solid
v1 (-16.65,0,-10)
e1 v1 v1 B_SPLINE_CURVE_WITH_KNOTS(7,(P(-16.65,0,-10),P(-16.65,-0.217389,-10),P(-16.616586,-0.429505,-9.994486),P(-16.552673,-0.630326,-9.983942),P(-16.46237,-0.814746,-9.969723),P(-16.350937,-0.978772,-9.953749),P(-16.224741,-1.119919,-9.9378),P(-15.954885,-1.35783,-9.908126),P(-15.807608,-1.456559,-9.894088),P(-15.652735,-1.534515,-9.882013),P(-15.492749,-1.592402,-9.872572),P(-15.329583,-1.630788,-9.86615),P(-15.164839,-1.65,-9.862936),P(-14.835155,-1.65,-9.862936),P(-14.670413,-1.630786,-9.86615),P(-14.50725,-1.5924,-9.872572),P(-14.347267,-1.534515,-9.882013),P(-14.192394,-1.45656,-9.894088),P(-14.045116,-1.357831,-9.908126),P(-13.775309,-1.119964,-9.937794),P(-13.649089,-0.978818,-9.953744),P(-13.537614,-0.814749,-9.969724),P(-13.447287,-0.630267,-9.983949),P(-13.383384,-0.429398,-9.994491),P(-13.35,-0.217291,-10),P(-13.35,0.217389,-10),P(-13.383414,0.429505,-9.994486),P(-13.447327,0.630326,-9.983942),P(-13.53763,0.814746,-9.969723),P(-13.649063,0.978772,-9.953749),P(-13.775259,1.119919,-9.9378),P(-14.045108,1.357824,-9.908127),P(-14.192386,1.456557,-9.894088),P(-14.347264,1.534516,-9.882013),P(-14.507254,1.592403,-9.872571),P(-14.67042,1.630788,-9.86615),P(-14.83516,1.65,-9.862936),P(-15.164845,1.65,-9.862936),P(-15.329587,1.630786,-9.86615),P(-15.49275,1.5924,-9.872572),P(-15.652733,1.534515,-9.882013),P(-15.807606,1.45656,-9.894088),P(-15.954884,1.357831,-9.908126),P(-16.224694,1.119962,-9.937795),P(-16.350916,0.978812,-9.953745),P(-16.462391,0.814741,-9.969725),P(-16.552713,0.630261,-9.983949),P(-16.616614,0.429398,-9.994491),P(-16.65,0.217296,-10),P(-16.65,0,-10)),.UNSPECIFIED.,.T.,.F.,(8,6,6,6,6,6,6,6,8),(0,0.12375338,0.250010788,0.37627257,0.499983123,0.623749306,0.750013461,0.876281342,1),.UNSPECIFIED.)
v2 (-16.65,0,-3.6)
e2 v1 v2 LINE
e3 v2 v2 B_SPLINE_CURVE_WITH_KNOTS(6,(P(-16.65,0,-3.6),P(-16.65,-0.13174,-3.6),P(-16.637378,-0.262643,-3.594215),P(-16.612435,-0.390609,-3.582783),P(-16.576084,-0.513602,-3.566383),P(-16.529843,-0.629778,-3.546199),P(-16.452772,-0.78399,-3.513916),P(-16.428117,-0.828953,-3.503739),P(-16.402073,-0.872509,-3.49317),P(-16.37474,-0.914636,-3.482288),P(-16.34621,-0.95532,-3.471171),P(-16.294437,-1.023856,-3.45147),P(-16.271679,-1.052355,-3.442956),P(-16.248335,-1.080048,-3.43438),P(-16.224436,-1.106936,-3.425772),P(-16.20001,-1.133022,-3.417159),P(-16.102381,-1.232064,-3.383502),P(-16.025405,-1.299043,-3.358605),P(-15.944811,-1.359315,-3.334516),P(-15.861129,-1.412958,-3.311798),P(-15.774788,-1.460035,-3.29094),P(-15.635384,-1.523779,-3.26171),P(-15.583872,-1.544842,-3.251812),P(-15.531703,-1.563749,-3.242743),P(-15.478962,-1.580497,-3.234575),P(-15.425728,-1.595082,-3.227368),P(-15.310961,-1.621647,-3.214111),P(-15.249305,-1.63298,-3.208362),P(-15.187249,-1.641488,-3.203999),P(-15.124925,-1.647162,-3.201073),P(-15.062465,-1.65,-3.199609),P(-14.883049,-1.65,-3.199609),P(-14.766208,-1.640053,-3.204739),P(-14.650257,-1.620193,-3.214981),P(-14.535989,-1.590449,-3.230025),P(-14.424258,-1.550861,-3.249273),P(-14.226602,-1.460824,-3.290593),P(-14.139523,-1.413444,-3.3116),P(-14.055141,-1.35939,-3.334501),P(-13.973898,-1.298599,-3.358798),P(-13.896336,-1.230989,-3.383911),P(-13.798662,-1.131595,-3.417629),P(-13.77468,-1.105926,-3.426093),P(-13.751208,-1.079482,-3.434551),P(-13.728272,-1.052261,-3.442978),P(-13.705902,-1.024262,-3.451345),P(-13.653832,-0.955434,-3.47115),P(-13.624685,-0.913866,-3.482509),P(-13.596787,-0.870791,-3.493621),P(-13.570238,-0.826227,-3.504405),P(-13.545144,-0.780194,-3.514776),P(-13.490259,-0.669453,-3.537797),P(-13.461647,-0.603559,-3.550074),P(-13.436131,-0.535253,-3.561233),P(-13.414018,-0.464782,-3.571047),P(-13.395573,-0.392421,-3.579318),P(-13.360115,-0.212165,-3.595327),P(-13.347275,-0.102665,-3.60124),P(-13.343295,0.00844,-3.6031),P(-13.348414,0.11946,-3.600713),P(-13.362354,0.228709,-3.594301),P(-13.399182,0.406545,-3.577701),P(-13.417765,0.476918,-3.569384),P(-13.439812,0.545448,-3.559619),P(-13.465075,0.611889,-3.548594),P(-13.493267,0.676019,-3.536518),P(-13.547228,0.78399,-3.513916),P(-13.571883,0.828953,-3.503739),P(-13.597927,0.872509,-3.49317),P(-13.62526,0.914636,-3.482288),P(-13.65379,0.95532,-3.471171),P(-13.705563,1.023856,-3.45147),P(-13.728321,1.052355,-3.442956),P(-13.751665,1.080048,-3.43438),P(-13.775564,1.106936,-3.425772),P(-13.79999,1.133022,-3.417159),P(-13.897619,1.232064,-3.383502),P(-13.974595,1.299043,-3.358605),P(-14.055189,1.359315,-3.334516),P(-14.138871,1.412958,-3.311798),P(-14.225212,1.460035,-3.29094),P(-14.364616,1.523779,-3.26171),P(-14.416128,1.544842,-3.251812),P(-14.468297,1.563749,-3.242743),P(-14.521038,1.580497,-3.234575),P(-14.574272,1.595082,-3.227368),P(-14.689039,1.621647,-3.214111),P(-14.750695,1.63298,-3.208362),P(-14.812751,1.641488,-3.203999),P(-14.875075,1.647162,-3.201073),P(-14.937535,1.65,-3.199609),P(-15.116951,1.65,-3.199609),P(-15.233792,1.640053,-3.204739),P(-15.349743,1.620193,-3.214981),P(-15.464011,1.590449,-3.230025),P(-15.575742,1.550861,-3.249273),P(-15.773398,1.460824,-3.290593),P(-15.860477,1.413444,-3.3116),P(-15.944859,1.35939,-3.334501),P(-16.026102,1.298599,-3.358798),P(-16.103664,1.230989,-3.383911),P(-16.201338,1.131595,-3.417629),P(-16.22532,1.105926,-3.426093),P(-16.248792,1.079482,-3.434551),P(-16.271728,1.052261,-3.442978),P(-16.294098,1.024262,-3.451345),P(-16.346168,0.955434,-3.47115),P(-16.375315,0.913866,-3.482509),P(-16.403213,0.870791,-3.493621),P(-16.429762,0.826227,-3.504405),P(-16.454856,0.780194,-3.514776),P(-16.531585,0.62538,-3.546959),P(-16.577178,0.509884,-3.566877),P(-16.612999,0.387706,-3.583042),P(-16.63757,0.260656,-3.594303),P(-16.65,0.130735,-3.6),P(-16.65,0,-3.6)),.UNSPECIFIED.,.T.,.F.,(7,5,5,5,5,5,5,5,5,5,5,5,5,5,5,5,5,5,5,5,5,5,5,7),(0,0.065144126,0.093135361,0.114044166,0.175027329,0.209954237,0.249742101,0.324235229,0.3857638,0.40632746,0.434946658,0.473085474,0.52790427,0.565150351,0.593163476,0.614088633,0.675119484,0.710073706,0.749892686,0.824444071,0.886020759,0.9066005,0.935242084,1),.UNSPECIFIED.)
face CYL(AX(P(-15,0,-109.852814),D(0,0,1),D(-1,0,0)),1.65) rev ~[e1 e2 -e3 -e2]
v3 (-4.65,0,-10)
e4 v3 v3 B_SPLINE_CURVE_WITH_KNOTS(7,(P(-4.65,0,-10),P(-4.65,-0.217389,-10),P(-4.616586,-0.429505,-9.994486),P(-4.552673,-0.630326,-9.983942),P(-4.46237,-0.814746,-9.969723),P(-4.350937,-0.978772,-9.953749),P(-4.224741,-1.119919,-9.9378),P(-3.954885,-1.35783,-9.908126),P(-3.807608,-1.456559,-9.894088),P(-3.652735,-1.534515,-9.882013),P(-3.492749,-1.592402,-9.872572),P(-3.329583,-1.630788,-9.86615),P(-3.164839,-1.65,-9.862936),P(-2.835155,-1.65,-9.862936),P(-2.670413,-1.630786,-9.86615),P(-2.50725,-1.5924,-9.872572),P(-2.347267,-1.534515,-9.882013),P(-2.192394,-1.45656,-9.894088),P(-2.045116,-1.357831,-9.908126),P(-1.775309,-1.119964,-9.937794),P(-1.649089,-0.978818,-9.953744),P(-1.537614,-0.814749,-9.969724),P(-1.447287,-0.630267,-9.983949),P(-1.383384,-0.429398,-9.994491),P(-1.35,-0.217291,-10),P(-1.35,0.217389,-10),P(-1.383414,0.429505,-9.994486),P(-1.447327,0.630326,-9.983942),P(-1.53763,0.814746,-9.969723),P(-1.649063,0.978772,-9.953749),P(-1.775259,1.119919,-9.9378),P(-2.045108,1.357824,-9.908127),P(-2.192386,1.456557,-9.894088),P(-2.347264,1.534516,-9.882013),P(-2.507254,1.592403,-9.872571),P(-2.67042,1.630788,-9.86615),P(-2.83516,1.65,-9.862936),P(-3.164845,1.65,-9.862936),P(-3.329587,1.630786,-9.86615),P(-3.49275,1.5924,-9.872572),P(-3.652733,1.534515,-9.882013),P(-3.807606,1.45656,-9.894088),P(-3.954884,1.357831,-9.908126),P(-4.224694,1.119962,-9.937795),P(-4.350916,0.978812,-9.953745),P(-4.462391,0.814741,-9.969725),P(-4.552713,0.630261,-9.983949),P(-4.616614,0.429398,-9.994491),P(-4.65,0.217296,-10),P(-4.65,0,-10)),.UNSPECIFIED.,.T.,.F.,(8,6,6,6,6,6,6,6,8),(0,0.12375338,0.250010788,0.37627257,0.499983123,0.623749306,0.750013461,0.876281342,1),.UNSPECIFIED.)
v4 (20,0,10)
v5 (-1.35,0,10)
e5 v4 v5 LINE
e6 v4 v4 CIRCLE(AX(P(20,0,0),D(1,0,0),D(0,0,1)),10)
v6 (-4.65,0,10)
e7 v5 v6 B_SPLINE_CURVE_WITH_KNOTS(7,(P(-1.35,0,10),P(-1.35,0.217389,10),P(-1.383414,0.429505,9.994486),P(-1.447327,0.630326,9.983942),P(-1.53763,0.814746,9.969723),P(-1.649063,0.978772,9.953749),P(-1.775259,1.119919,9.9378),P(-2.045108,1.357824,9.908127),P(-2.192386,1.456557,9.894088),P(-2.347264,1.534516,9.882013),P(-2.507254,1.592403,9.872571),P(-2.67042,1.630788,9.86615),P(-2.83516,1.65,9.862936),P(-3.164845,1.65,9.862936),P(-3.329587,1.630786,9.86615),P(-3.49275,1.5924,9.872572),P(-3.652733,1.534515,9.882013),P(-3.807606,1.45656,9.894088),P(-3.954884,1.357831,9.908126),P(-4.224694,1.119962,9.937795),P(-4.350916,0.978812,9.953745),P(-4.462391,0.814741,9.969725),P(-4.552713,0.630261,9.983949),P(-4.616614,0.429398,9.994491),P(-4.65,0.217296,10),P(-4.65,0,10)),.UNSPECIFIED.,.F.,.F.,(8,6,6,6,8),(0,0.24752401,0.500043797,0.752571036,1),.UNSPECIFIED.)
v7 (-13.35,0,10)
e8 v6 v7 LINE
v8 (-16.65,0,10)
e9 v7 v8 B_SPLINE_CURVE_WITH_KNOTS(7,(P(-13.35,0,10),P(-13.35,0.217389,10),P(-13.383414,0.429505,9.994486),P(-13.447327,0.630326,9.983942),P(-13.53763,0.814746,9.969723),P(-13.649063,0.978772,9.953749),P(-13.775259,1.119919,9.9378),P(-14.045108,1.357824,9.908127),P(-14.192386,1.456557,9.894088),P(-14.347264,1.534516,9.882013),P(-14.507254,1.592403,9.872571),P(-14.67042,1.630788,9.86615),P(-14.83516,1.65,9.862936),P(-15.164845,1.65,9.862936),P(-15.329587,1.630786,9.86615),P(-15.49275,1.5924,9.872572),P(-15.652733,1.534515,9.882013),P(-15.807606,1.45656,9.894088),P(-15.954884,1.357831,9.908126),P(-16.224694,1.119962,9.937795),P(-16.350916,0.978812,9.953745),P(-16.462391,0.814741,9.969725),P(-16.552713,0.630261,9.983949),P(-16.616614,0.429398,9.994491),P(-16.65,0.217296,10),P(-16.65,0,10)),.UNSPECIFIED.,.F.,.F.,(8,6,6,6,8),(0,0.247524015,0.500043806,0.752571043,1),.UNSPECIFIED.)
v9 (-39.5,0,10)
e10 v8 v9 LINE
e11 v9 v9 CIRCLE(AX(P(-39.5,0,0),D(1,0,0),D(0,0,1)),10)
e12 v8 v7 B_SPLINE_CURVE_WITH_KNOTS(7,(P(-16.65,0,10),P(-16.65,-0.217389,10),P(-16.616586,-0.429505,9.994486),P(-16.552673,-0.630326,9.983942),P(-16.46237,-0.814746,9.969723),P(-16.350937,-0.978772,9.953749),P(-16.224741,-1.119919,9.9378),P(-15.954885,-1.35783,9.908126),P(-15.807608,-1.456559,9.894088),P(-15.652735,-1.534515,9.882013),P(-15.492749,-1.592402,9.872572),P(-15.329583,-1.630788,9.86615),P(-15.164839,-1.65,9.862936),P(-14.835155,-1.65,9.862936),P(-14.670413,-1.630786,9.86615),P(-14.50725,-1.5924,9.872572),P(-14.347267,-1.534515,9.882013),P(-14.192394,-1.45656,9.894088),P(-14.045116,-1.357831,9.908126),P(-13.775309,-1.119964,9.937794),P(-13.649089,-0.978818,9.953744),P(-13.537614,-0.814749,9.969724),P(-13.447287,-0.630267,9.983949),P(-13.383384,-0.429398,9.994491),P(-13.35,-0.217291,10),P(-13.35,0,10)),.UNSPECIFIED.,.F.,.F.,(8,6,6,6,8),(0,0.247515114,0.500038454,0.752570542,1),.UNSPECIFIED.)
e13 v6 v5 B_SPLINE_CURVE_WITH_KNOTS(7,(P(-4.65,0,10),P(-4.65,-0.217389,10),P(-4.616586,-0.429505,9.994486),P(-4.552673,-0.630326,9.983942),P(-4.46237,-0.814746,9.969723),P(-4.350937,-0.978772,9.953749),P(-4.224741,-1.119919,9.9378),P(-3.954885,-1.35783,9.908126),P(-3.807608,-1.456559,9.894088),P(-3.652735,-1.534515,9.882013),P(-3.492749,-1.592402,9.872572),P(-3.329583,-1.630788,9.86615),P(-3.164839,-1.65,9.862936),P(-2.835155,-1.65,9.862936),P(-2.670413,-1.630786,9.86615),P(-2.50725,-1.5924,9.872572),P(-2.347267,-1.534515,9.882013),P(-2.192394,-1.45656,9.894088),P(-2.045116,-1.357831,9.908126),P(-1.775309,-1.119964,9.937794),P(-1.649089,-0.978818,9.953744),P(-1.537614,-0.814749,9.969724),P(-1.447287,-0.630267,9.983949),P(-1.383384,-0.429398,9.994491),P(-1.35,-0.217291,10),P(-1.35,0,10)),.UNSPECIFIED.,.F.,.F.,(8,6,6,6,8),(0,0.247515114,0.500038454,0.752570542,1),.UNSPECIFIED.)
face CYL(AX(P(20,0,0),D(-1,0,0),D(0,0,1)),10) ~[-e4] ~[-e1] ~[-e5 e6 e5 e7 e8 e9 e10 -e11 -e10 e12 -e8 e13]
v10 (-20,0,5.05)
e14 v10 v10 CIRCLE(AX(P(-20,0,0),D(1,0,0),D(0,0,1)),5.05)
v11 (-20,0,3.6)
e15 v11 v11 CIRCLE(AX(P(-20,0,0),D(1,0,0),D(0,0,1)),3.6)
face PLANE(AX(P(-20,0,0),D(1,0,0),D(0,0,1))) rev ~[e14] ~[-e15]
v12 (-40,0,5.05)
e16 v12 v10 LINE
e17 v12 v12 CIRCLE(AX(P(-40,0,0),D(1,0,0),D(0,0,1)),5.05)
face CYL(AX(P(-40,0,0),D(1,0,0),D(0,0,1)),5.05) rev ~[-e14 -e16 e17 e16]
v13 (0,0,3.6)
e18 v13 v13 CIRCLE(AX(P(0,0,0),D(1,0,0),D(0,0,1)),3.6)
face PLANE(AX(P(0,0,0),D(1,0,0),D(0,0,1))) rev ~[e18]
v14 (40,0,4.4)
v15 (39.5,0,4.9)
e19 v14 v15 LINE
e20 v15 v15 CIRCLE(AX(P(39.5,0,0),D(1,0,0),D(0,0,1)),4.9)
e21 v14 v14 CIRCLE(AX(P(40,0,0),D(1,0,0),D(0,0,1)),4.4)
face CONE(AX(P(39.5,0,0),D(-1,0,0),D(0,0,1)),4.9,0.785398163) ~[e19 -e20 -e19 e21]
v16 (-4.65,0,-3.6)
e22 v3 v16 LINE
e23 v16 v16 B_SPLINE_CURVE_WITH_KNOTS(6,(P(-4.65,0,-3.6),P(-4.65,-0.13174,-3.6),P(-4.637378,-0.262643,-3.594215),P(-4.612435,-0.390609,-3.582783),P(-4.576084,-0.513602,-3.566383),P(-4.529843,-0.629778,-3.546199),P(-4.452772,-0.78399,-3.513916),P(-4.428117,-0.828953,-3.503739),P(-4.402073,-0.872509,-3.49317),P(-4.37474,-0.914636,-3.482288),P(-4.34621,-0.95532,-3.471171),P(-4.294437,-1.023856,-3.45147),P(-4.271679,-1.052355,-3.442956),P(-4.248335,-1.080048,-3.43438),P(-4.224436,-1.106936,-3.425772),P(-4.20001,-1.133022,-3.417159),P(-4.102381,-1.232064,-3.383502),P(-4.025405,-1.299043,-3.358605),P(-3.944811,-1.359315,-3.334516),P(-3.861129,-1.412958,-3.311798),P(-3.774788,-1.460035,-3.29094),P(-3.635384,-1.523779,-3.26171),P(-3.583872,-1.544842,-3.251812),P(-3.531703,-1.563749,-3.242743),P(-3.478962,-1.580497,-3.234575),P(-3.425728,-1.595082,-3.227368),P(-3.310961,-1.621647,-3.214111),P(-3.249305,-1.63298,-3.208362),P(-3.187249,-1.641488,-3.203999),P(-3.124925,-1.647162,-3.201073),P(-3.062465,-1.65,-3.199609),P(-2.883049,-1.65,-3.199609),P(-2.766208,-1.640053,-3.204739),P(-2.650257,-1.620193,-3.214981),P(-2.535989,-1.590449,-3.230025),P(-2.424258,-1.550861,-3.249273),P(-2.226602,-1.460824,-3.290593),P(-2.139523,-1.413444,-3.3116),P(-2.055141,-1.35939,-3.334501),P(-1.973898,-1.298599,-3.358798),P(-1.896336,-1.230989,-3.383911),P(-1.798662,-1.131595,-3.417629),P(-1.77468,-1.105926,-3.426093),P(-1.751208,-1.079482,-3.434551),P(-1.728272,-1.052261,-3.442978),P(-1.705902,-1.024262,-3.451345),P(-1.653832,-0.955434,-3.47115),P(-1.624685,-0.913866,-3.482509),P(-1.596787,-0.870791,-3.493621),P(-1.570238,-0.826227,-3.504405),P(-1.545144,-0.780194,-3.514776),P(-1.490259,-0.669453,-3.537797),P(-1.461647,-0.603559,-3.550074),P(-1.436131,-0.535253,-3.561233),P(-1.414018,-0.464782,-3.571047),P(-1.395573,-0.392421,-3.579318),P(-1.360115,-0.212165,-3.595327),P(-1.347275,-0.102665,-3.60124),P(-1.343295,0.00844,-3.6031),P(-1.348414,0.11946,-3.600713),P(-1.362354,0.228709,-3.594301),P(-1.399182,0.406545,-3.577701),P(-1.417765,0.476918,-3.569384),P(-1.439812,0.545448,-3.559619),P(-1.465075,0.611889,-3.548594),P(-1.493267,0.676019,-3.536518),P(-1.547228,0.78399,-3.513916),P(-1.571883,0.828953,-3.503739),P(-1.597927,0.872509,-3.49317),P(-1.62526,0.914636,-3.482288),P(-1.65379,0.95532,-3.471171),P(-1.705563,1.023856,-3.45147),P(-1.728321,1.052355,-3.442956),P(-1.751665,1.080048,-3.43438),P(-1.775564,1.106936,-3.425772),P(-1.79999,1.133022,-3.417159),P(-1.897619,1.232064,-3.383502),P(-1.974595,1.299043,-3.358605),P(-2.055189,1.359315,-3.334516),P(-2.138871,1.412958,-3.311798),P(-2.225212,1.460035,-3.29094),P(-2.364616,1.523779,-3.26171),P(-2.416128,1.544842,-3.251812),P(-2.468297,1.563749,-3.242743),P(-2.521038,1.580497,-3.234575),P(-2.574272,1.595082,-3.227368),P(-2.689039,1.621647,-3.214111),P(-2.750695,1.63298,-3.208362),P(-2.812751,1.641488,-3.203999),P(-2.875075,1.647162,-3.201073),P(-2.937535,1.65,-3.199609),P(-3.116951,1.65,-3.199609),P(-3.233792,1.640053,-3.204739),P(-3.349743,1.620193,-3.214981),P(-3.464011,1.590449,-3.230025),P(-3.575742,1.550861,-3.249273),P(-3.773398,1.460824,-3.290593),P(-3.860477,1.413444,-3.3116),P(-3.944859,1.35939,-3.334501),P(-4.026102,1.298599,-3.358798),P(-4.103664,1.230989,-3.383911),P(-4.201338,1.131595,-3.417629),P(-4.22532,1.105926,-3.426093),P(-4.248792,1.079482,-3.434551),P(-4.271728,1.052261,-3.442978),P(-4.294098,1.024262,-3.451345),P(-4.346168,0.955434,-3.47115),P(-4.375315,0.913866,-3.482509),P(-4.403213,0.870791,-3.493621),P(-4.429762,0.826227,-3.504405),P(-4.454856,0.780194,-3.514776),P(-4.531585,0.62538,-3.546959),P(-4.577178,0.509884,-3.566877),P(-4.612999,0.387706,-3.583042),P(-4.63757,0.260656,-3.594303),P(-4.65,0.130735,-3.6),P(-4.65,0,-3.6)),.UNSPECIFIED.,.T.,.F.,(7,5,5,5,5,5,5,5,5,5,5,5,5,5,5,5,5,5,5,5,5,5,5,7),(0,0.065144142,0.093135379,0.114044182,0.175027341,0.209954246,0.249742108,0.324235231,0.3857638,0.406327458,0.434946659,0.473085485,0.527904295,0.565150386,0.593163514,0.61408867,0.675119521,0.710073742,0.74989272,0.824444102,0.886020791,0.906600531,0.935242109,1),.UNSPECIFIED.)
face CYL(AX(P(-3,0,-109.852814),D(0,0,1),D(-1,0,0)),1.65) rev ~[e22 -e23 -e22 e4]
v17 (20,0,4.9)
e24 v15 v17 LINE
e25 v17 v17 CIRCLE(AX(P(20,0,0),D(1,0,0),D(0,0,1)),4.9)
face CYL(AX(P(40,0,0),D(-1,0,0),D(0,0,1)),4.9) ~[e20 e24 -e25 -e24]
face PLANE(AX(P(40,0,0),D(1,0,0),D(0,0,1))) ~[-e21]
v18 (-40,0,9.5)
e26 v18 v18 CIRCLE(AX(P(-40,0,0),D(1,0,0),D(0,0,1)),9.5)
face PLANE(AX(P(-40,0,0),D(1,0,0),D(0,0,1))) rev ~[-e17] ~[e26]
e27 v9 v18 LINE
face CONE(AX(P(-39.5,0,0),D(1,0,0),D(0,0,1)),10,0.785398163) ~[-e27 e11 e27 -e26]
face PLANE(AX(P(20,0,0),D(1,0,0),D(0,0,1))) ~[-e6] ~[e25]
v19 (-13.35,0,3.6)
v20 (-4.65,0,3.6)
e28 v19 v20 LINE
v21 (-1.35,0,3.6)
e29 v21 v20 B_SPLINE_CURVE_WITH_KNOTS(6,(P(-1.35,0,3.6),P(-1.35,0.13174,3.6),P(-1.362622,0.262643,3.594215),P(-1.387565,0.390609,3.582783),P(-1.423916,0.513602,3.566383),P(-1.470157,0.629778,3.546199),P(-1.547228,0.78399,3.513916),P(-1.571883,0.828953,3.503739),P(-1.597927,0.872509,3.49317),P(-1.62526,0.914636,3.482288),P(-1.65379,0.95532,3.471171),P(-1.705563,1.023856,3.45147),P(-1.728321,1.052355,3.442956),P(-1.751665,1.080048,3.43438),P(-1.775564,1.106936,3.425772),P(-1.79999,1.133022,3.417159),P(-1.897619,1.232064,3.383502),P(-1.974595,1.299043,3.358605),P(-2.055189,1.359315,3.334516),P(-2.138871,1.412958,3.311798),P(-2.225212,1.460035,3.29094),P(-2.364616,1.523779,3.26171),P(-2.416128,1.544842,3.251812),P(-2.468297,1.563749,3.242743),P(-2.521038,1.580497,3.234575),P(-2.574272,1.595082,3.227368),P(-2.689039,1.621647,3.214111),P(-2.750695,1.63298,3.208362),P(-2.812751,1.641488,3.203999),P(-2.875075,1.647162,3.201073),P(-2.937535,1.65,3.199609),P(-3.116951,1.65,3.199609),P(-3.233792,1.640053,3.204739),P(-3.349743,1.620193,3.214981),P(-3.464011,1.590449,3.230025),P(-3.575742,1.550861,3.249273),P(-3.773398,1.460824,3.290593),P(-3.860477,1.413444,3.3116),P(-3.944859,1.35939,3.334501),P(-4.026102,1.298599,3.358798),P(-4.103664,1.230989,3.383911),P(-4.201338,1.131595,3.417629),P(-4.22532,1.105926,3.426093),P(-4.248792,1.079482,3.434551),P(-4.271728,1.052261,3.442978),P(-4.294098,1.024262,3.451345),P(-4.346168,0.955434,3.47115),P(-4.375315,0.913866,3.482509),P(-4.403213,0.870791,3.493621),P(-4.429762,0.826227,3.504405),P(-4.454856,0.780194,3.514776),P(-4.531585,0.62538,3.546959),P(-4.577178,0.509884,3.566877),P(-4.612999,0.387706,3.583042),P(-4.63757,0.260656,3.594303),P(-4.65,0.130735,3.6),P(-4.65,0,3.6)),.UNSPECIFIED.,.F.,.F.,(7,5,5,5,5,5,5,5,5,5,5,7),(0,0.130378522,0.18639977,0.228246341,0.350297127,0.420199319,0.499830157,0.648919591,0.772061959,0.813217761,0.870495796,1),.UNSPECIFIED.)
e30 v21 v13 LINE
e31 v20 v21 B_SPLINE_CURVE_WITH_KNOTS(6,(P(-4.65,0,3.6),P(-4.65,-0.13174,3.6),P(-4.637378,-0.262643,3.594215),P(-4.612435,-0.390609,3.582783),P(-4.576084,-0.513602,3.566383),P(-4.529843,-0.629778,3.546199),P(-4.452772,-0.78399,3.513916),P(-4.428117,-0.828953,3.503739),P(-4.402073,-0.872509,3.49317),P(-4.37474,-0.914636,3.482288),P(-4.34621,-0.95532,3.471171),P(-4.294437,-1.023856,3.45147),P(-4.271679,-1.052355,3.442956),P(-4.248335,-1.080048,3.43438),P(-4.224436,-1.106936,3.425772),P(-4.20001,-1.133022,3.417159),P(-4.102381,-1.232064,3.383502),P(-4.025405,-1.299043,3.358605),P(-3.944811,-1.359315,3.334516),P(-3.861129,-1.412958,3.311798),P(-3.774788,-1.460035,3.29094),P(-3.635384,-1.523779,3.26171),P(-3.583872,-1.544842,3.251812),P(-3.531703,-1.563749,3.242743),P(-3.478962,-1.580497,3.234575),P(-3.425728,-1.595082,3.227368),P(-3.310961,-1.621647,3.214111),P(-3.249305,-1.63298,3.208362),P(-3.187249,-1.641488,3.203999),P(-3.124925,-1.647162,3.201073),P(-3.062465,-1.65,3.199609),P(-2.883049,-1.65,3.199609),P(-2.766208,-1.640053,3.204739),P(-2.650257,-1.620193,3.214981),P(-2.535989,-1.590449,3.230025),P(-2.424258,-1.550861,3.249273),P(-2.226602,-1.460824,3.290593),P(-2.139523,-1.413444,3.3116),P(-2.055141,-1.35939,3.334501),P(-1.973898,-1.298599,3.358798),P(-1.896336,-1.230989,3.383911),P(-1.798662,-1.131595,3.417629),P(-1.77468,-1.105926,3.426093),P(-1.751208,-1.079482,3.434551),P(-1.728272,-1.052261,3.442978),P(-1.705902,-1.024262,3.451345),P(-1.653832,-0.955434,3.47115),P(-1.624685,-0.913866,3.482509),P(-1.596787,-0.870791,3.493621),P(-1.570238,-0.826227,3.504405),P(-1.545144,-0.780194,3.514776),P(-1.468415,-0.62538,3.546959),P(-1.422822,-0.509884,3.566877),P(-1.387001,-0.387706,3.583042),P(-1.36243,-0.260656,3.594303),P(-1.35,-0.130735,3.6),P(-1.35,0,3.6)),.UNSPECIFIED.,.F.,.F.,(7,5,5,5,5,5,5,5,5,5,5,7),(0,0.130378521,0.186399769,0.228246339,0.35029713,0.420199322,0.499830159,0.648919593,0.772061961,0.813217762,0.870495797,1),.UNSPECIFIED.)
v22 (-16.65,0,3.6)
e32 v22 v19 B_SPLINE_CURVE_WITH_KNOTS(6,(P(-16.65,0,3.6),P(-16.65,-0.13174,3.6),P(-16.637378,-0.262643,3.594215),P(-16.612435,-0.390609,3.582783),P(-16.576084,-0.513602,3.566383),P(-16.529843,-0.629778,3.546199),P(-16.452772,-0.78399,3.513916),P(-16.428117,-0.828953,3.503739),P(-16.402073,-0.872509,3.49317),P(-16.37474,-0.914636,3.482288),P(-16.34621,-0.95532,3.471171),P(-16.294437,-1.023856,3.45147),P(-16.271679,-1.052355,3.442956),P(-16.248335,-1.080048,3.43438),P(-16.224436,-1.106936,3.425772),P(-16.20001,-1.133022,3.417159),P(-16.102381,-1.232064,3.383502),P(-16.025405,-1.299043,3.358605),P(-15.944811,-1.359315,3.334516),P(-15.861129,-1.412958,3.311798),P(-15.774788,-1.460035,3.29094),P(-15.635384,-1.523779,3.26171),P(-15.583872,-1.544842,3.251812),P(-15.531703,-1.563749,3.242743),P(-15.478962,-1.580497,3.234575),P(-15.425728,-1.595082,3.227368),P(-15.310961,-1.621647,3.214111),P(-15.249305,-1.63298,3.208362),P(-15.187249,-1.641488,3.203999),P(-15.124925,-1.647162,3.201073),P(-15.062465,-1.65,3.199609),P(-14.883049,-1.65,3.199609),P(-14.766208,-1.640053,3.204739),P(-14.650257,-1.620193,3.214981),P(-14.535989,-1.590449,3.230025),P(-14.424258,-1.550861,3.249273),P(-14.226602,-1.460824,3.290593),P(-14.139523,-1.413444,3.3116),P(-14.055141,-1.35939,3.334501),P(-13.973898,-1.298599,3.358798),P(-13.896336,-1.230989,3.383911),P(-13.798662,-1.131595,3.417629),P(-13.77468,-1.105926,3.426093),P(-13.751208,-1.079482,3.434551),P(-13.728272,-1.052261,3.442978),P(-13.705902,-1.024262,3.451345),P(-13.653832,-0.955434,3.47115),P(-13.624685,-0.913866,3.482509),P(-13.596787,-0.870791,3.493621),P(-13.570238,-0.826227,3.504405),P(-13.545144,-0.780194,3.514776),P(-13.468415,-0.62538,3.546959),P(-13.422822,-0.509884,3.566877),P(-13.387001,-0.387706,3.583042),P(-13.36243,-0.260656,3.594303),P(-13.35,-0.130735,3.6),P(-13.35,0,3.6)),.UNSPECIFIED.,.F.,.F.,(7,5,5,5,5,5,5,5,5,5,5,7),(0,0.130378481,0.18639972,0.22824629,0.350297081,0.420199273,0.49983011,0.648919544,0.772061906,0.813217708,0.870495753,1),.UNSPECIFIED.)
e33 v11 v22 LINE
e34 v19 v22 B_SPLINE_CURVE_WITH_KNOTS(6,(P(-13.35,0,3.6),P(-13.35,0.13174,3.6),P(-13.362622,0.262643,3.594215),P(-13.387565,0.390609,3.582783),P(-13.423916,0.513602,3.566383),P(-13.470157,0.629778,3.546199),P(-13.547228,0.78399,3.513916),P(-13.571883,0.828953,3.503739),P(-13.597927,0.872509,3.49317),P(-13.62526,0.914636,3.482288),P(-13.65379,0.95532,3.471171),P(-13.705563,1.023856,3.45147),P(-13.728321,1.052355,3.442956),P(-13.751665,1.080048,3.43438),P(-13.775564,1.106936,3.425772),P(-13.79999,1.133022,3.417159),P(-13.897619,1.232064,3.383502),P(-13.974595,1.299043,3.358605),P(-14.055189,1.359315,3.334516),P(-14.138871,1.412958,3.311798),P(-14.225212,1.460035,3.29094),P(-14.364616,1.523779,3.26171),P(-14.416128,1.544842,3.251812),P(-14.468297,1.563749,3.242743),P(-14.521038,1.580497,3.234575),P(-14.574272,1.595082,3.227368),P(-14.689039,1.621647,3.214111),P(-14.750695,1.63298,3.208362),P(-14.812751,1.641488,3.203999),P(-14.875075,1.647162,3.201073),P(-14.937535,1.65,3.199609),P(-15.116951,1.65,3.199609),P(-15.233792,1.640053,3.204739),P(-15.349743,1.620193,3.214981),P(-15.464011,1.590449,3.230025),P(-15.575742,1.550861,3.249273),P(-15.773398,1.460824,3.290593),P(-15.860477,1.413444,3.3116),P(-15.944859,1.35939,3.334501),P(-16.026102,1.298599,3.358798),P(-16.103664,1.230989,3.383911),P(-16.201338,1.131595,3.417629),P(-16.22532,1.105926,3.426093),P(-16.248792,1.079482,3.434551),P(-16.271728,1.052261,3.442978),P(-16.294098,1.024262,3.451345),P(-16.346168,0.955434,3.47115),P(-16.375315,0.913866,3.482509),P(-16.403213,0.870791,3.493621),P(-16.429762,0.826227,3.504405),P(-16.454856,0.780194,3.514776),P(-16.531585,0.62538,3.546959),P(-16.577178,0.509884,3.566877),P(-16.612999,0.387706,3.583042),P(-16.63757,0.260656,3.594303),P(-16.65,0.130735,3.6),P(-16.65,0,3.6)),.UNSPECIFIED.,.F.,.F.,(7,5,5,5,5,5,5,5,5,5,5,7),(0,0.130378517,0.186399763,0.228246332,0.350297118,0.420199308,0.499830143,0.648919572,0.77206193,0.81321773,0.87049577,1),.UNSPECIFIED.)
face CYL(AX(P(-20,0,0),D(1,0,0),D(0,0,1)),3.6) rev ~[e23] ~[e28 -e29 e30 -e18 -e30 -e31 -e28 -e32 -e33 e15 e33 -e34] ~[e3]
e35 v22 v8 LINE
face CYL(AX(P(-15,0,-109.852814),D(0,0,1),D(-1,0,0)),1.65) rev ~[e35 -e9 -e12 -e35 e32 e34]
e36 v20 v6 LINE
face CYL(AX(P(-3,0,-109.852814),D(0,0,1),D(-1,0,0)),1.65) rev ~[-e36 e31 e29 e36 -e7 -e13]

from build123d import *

# Parameters (mm, degrees)
F3_SIZE = 0.5
F5_D    = 3.3


with BuildPart() as f1:
    # F0 (on Front) → F1 (revolve)
    with BuildSketch(Plane.XZ):
        Polygon((0, 3.6), (0, 0), (40, 0), (40, 4.9), (20, 4.9), (20, 10), (-40, 10), (-40, 5.05), (-20, 5.05), (-20, 3.6), align=None)
    revolve(axis=Axis((-1.4153197408, 0, 0), (1, 0, 0)))

    # F3
    f3_edges = [f1.edges().sort_by_distance(p)[0] for p in [
        (-40, 0, -10),
        (40, 0, -4.9),
    ]]
    chamfer(f3_edges, length=F3_SIZE)

    # F5 (through all)
    with Locations(Plane(origin=(0, 0, -25), x_dir=(1, 0, 0), z_dir=(0, 0, -1))):
        with Locations((-15, 0), (-3, 0)):
            Hole(F5_D / 2)


solid = f1.part
